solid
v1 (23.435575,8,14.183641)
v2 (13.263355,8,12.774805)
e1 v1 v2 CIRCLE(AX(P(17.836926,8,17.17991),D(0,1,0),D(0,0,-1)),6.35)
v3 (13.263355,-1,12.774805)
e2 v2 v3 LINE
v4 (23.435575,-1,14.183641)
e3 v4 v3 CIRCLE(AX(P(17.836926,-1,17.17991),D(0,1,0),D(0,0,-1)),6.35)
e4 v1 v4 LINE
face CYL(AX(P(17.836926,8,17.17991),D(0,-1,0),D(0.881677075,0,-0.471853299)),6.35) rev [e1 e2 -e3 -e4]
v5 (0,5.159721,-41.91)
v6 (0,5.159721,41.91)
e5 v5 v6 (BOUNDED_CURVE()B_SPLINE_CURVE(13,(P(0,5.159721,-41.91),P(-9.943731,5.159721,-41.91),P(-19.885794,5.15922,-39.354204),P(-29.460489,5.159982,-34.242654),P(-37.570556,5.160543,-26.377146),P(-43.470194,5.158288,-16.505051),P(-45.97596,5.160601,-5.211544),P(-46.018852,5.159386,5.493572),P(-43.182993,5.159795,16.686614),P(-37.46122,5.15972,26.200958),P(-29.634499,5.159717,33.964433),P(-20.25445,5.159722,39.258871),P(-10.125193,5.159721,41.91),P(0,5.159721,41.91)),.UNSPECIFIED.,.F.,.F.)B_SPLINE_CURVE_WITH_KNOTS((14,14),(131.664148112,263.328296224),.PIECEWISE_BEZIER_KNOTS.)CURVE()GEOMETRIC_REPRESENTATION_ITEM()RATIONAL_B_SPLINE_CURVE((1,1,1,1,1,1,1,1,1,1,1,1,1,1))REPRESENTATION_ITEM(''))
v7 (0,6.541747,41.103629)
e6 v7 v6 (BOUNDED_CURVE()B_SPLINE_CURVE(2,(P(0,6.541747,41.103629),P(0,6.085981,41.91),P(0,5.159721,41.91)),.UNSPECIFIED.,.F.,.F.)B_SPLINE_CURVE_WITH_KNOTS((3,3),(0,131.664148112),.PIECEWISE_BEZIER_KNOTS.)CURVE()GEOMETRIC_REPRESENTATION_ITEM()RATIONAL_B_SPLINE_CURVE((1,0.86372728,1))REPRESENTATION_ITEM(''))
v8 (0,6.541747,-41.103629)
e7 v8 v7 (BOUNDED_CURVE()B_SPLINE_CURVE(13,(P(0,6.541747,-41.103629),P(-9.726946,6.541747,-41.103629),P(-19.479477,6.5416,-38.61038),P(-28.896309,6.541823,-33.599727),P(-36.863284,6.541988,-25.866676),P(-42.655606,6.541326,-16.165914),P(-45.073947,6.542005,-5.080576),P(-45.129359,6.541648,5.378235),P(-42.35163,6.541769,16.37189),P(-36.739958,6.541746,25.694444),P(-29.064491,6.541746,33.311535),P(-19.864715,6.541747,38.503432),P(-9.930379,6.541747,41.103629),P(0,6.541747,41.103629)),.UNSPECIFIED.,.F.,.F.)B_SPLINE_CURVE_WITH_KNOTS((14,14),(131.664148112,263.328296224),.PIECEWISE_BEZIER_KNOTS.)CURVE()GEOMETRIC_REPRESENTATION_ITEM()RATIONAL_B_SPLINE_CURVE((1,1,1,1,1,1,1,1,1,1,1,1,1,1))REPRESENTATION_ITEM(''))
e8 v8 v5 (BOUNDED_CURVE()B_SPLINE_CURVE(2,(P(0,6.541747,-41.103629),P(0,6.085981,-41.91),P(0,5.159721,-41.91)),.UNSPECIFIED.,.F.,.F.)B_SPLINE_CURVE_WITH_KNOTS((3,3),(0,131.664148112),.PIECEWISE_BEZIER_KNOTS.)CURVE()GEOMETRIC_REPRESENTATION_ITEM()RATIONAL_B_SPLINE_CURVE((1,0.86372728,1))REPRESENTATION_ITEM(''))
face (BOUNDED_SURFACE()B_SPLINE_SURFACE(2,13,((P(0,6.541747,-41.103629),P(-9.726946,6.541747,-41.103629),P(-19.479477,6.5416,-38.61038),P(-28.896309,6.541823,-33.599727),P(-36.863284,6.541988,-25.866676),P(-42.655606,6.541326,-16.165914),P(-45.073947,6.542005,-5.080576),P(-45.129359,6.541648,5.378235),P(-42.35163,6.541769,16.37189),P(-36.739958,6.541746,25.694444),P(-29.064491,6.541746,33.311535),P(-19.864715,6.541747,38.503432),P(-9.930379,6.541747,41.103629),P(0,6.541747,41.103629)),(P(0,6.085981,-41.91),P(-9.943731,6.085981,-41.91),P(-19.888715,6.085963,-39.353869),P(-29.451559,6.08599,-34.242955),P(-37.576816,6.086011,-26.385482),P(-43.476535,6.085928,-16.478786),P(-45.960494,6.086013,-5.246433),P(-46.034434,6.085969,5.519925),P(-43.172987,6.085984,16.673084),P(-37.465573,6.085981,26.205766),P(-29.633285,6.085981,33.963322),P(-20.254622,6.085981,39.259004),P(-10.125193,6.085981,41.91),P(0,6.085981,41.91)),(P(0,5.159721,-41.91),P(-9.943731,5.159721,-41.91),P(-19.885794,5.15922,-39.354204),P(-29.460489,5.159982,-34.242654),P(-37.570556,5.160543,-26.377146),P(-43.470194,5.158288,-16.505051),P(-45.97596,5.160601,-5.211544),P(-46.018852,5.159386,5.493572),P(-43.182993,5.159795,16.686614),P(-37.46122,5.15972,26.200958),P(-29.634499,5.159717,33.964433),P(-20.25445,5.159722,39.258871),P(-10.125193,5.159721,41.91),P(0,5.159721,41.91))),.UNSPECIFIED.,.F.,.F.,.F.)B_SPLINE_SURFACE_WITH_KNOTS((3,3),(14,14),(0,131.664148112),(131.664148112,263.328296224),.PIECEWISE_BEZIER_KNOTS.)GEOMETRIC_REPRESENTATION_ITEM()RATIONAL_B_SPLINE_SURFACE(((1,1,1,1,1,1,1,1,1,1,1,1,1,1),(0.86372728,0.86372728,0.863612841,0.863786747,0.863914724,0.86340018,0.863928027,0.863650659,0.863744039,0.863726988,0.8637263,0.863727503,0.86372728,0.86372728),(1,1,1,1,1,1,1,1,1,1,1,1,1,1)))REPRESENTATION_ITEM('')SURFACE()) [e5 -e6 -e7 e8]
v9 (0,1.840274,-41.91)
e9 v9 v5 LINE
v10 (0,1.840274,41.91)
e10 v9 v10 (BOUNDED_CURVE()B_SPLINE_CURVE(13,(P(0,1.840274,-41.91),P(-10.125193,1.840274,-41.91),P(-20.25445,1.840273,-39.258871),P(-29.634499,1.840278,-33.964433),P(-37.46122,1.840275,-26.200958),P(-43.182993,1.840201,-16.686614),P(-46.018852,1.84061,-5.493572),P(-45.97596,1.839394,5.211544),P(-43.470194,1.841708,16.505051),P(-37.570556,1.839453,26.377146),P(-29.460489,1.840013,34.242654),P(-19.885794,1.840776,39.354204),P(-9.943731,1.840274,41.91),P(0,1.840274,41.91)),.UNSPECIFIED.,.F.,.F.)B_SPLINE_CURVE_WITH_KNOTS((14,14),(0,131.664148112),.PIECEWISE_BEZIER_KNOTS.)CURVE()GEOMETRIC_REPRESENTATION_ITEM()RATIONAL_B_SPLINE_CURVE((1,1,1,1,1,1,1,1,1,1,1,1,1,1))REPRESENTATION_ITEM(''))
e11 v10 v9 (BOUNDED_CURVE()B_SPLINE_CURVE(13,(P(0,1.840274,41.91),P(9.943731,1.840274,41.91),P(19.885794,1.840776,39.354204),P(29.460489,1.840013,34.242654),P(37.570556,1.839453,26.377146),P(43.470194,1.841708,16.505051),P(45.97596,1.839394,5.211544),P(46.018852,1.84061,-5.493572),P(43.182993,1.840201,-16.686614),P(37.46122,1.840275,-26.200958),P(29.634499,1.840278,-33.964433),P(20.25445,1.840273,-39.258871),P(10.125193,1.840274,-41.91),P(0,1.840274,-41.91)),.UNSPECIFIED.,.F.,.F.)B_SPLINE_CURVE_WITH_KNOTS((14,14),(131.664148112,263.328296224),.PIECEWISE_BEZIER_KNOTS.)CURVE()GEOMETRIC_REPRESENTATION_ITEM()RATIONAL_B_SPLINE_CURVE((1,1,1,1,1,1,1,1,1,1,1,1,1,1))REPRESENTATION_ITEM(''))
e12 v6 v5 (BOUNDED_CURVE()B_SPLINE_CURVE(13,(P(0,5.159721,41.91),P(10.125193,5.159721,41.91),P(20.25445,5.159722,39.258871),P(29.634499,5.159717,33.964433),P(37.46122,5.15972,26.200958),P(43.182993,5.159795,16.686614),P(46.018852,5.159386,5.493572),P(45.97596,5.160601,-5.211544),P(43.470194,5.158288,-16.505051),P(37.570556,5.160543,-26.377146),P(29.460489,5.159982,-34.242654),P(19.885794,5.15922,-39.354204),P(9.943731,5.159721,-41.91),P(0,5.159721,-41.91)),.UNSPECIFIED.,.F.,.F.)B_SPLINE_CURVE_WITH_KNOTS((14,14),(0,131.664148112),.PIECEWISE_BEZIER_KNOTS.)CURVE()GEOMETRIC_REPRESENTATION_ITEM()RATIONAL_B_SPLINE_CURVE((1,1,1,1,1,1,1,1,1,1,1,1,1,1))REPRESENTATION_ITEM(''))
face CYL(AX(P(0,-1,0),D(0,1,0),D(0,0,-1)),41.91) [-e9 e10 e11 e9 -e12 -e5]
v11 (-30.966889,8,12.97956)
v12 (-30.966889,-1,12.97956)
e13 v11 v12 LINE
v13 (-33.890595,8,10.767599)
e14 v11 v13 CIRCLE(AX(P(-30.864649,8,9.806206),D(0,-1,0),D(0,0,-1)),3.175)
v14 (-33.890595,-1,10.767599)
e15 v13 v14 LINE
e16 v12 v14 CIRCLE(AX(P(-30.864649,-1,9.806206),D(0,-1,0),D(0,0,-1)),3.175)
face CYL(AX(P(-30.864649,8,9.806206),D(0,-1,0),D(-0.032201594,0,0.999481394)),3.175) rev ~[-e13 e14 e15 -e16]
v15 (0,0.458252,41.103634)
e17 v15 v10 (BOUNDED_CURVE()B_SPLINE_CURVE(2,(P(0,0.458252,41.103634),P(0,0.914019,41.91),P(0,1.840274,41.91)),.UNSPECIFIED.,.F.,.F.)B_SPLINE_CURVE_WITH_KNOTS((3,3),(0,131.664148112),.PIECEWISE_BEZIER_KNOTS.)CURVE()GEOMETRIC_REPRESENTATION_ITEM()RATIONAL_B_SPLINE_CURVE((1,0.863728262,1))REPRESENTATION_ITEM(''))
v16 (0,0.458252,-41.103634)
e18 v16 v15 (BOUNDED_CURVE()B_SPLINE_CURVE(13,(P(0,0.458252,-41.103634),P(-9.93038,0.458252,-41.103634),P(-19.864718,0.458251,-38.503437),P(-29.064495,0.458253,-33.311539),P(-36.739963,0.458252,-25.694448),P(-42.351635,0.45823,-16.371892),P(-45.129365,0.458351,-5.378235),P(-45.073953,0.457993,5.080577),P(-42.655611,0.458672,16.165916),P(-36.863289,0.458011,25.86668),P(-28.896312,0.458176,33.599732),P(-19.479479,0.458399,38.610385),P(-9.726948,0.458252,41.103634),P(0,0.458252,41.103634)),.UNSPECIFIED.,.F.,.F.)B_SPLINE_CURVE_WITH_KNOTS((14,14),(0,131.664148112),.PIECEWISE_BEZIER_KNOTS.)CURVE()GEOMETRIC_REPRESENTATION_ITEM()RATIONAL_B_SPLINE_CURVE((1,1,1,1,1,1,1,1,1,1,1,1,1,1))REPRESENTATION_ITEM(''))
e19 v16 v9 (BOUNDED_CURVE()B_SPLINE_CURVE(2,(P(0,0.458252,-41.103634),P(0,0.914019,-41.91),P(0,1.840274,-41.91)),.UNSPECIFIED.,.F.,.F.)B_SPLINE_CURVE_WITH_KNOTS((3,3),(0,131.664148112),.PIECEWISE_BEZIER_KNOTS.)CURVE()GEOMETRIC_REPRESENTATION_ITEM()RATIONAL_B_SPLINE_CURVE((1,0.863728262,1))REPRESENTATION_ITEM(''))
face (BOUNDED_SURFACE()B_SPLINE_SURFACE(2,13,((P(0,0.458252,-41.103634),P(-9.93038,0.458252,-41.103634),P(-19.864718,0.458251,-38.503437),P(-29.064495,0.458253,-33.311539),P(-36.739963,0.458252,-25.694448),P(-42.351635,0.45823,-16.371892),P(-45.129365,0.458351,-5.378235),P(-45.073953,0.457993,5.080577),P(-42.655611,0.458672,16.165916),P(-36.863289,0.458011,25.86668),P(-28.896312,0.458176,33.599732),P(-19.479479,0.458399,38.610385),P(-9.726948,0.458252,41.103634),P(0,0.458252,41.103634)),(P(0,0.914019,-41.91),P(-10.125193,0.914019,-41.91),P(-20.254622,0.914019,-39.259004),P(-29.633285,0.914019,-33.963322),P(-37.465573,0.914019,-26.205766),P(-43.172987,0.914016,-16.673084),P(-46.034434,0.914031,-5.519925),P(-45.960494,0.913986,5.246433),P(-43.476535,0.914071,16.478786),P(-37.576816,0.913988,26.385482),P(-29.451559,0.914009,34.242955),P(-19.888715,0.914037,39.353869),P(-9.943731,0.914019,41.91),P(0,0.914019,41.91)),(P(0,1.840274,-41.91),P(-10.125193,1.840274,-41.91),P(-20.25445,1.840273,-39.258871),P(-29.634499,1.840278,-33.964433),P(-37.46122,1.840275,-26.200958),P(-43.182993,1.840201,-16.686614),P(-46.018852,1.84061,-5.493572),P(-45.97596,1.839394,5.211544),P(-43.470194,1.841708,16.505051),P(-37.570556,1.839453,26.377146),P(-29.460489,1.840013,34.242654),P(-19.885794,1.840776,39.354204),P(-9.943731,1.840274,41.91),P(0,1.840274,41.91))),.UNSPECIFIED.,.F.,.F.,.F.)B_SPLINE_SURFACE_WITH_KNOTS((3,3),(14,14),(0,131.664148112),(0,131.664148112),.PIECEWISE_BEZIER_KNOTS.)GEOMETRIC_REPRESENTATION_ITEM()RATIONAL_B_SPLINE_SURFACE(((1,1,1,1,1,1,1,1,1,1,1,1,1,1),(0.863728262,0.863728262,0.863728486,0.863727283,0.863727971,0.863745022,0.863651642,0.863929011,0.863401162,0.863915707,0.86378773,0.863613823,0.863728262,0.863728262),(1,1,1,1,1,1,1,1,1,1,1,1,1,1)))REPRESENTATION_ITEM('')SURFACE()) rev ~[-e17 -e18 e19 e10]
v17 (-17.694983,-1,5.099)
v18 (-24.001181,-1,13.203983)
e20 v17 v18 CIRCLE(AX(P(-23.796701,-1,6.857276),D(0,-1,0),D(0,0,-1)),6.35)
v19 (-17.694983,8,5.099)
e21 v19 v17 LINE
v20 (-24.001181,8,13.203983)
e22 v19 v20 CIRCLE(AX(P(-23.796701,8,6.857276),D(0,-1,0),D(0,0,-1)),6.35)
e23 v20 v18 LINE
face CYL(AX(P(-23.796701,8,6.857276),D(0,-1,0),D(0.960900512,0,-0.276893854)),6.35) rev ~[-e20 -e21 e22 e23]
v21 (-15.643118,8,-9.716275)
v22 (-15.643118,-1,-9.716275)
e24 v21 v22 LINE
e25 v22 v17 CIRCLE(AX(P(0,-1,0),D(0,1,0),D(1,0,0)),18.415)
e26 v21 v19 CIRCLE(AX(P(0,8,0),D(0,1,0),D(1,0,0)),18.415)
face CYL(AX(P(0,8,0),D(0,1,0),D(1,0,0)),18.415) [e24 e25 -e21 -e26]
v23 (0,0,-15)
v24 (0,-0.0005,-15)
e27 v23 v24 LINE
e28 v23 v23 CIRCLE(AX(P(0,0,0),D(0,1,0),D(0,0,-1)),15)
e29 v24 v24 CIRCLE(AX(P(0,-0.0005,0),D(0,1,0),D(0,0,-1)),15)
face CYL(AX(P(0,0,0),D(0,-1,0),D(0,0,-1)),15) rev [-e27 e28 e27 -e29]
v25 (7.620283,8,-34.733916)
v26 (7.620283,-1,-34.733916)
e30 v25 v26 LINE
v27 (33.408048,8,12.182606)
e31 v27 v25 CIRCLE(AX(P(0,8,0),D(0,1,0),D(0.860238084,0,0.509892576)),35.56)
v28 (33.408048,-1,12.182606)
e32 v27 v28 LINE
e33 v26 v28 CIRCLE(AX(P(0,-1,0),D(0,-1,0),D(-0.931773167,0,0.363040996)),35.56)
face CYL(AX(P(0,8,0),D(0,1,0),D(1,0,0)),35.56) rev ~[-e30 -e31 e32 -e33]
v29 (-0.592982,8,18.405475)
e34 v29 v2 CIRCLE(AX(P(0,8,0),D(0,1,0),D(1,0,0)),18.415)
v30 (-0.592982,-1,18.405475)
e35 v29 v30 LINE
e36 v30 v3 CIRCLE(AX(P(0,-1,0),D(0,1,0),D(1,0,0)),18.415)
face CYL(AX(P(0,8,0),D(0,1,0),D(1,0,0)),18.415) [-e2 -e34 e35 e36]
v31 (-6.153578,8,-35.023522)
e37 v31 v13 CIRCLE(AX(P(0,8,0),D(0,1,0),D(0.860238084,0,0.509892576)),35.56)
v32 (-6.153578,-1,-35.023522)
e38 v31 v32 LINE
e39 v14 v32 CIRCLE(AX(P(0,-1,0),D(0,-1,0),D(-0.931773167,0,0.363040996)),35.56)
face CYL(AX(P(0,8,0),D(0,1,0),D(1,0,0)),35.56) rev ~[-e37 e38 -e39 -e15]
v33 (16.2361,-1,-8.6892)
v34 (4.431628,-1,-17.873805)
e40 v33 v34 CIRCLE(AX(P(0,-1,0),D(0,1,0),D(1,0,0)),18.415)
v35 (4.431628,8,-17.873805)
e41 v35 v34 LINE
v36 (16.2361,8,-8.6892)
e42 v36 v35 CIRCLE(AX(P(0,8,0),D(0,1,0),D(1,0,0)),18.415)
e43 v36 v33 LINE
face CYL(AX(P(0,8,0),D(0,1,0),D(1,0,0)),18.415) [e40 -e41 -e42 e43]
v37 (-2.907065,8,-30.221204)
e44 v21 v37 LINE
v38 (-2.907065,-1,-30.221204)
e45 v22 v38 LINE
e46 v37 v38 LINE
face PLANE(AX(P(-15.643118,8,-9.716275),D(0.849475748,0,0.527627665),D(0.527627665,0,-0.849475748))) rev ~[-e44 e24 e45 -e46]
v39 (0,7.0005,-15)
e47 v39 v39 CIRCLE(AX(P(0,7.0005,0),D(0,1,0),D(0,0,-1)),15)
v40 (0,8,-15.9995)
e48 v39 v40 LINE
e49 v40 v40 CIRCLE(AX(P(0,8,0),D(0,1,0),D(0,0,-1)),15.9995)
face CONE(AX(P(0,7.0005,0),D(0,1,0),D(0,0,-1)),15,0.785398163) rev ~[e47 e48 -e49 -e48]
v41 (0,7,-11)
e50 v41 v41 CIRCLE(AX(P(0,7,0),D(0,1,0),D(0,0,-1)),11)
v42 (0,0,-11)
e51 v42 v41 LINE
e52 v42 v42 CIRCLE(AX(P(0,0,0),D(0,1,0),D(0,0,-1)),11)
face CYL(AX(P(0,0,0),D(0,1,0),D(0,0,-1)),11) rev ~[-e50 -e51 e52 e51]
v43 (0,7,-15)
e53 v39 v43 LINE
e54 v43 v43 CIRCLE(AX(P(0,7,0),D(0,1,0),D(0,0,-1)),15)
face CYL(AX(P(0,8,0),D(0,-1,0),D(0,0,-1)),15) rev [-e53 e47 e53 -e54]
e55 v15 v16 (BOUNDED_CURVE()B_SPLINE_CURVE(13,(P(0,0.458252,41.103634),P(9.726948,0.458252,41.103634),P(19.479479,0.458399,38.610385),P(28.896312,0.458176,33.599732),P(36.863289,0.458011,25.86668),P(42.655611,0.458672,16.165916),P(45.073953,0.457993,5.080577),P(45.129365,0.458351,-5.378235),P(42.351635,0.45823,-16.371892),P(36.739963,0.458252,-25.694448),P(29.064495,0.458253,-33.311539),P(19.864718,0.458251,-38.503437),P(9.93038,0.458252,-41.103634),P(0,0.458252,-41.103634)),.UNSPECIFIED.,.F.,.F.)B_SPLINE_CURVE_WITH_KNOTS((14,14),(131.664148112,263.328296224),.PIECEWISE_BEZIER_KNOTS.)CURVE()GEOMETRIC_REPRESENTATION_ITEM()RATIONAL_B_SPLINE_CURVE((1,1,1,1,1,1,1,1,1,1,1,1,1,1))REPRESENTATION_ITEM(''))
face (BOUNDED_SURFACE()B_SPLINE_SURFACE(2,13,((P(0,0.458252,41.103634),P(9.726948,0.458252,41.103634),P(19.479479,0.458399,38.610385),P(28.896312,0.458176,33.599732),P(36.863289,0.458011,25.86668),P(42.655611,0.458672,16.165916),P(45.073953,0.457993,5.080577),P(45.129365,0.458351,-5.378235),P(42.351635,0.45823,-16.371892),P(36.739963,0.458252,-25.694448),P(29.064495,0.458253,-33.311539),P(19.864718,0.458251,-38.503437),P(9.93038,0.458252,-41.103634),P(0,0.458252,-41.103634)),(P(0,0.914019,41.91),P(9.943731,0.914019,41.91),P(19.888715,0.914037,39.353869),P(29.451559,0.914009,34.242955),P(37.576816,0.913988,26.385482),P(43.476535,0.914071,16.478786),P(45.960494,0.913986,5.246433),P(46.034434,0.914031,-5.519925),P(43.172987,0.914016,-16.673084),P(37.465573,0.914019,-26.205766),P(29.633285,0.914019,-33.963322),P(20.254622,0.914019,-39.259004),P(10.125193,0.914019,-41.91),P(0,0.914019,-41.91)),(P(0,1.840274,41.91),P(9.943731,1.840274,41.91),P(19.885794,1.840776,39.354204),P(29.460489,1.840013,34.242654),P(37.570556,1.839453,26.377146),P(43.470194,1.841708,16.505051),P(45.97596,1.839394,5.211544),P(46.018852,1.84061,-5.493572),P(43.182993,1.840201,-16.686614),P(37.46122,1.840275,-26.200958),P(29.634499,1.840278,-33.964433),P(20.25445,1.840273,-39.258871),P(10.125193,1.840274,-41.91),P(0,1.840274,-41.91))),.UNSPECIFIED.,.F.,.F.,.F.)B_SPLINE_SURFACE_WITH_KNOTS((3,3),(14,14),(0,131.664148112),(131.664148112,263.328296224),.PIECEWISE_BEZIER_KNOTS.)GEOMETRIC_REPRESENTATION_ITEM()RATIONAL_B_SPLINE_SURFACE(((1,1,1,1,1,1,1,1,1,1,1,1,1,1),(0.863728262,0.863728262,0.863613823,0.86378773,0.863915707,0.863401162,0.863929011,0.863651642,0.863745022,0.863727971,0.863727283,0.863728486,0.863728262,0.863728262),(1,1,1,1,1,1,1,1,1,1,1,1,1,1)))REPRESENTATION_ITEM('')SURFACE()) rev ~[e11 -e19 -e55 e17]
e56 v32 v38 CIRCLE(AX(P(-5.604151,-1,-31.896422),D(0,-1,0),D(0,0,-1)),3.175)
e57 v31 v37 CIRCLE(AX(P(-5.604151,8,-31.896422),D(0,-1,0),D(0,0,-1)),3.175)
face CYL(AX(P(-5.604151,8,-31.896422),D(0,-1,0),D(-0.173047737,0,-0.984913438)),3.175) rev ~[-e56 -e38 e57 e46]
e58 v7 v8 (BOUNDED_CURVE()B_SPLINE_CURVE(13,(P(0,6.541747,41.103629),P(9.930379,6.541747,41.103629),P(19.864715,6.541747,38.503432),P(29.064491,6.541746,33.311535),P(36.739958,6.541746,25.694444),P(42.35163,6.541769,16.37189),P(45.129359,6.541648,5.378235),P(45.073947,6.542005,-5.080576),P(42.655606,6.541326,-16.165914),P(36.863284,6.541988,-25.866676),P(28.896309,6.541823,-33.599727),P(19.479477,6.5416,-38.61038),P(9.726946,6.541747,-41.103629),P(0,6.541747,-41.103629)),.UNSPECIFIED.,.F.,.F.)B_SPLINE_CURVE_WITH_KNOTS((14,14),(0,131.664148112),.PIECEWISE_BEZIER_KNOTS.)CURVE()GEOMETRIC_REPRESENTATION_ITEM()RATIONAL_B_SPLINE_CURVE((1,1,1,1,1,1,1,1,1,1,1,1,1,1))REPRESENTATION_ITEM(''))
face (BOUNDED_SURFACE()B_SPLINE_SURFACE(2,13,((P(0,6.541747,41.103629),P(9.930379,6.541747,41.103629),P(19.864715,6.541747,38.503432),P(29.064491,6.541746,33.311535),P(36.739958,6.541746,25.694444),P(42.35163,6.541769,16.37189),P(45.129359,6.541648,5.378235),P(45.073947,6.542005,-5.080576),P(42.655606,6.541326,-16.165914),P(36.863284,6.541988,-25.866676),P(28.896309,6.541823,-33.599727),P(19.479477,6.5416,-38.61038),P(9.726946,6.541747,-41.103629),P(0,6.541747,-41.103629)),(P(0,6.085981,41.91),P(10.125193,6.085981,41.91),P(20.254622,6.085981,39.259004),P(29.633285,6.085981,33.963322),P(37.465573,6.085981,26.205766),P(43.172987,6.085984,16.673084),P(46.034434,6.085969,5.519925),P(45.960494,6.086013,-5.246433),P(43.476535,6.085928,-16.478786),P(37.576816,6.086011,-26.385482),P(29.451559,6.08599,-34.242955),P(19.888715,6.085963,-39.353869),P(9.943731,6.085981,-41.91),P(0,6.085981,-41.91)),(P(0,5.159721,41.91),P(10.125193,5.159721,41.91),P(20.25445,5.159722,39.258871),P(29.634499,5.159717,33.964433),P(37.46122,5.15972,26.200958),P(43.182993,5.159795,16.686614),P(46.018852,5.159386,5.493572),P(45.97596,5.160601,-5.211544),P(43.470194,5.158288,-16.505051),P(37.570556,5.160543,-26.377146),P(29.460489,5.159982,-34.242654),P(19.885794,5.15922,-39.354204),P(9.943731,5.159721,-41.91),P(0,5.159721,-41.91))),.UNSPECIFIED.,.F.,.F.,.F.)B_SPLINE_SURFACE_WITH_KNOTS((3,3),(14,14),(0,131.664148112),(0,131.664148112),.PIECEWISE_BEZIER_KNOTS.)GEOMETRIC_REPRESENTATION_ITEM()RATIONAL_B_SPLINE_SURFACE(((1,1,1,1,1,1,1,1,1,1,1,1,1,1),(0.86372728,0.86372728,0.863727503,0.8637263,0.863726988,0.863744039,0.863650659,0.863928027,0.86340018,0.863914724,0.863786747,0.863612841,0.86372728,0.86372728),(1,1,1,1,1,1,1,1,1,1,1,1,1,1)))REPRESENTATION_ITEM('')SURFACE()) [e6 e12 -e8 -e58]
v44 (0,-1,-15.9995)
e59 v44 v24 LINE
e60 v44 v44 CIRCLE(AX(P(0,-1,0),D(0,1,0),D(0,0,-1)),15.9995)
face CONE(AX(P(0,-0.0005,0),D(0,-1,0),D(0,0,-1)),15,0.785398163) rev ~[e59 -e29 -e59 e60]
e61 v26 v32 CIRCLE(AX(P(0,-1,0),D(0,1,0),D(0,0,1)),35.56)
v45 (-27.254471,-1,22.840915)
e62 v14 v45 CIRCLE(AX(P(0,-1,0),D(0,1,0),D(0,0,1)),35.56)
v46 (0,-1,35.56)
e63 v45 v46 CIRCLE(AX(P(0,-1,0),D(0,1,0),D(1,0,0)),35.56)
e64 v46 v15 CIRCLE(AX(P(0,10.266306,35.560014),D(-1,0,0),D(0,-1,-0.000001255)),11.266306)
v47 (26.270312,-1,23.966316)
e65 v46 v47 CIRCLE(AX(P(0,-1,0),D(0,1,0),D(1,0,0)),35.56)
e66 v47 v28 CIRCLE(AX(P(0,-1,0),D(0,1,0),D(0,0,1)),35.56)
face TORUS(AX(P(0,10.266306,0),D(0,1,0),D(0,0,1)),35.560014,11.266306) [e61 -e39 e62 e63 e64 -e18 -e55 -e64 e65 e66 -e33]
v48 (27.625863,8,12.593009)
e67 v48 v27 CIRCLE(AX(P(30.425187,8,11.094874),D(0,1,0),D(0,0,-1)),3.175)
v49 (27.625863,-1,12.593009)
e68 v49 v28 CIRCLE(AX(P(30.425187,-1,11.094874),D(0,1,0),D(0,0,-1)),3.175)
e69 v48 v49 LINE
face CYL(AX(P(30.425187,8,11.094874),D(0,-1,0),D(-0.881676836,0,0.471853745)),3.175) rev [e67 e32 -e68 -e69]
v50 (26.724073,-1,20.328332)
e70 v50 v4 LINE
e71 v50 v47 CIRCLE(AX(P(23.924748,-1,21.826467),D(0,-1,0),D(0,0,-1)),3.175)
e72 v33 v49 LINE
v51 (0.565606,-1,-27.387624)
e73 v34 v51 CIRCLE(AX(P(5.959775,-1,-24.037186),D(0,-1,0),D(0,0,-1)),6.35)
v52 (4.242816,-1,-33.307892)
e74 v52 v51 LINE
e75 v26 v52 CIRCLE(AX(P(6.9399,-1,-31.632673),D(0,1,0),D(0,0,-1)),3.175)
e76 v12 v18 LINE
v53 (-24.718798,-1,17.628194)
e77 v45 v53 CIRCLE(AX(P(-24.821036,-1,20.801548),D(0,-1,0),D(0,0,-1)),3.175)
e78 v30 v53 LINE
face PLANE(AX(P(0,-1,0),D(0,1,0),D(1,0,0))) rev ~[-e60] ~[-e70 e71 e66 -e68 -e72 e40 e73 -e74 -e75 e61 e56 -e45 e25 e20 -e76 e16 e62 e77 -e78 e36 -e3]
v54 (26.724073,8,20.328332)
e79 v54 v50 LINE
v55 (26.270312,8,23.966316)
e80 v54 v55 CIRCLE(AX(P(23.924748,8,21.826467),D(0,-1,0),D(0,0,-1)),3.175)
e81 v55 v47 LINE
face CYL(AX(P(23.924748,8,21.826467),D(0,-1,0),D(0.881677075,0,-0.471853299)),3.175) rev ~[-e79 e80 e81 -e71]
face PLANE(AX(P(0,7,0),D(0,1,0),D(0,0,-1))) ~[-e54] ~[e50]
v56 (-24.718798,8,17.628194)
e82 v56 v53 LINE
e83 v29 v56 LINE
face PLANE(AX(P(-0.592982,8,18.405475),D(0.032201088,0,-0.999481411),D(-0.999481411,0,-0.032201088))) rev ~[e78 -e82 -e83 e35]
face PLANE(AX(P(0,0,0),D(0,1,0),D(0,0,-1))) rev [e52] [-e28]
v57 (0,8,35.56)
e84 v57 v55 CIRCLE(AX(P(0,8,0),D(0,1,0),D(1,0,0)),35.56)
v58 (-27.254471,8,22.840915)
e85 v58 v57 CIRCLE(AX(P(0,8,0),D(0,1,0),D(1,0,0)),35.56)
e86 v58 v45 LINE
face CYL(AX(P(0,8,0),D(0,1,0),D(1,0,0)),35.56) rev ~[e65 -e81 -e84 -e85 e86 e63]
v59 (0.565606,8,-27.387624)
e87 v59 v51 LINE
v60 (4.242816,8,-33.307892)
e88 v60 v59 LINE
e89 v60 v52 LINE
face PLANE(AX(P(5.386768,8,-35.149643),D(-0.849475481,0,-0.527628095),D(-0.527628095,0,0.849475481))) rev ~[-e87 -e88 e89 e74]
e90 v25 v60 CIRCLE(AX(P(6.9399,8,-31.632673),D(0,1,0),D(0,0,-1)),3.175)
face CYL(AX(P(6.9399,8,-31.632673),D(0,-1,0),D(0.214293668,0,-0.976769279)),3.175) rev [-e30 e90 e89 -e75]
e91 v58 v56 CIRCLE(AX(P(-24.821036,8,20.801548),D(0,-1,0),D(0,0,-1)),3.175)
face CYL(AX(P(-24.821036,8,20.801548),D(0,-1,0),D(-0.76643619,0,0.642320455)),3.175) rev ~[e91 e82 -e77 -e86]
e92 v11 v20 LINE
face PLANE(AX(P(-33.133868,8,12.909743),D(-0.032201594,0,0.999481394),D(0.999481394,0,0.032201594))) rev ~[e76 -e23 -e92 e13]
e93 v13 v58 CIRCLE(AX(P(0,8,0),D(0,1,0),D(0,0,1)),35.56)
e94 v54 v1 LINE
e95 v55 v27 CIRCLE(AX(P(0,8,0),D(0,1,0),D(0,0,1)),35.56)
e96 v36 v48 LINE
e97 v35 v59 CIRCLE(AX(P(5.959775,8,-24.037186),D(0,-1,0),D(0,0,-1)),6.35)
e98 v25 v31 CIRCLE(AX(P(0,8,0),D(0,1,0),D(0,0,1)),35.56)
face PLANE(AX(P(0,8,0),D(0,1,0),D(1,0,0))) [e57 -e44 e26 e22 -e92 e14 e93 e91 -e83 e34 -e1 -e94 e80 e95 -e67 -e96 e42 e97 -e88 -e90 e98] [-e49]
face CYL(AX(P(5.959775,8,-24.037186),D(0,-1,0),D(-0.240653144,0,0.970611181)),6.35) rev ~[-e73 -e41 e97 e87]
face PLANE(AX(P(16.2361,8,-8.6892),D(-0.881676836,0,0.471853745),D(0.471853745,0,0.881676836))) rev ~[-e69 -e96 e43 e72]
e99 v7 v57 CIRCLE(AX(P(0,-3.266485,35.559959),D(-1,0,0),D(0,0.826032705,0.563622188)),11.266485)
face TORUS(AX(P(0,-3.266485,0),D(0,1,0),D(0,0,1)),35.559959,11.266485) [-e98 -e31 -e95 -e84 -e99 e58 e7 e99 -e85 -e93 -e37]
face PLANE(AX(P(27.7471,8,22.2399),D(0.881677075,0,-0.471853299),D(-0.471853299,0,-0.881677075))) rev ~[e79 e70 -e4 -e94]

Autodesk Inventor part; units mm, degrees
ref_plane "YZ Plane" through (0, 0, 0) normal (1, 0, 0) x (0, 1, 0)
sketch "Sketch3" plane through (0, 0, 0) normal (1, 0, 0) x (0, 1, 0)
  line L0 (0, 0) -> (0, -11) construction
  line L1 (0, 0) -> (7, 0) construction
  line L2 (7, 0) -> (7, -11) construction
  line L3 (0, -11) -> (0, -41.91)
  line L4 (0, -41.91) -> (-1.9706, -41.91) construction
  line L5 (0, -11) -> (7, -11)
  line L6 (7, -11) -> (7, -41.91)
  line L7 (0, -41.91) -> (0, -39.6842) construction
  line L8 (0, -41.91) -> (7, -41.91)
  dimension "d7" = 7
  dimension "d8" = 11
  dimension "d9" = 41.91
revolve "Revolution1" add sketch "Sketch3" angle 360 about axis through (0, 0, 0) along (0, 1, 0)
ref_plane "Work Plane2" through (0, 0, 0) normal (-1, 0, 0) x (0, 1, 0)
sketch "Sketch4" plane through (0, 0, 0) normal (-1, 0, 0) x (0, 1, 0)
  line L0 (0, 0) -> (7, 0)
  line L1 (7, 41.91) -> (7, -41.91) projected
  line L2 (7, 0) -> (7, 11)
  line L3 (7, 0) -> (8, 0)
  line L4 (8, 0) -> (8, 15)
  line L5 (8, 15) -> (7, 15)
  line L6 (8, 15) -> (8, 41.91)
  line L7 (8, 41.91) -> (7, 41.91)
  line L8 (0, 0) -> (0, 0.75)
  line L9 (0, 11) -> (0, -11) projected
  line L10 (8, 15) -> (0, 15)
  line L11 (0, 41.91) -> (0, -41.91) projected
  line L12 (0, 15) -> (-1, 15)
  line L13 (-1, 15) -> (-1, 41.91)
  line L14 (-1, 41.91) -> (0, 41.91)
  dimension "d16" = 11
  dimension "d17" = 1
  dimension "d18" = 15
  dimension "d20" = 0.75
  dimension "d21" = 1
ref_plane "Work Plane3" through (0, 3.5, 0) normal (0, 1, 0) x (1, 0, 0)
revolve "Revolution2" add sketch "Sketch4" angle 360 about axis through (0, 0, 0) along (0, 1, 0) contours L12 L13 L14 L11 | L1 L7 L6 L5
sketch "Sketch5" plane through (0, 8, 0) normal (0, 1, 0) x (1, 0, 0)
  circle A0 centre (0, 0) radius 18.415
  circle A1 centre (0, 0) radius 15 projected
  circle A2 centre (0, 0) radius 41.91 projected
  circle A3 centre (0, 0) radius 35.56
  dimension "d23" = 6.35
  dimension "d49" = 36.83
extrude "Extrusion2" cut sketch "Sketch5" against normal through all contours A3
sketch "Sketch6" plane through (0, 8, 0) normal (0, 1, 0) x (1, 0, 0)
  circle A0 centre (0, 0) radius 18.415 projected
  circle A1 centre (0, 0) radius 35.56 projected
  line L0 (16.2361, 8.6892) -> (30.5901, -18.1318)
  line L1 (27.7471, -22.2399) -> (17.9783, -3.9865)
  dimension "d26" = 4.445
extrude "Extrusion3" add sketch "Sketch6" against normal up to surface (9 mm away) contours A0 L0 A1 L1 picked at (22.3912, -5.043)
pattern_circular "Circular Pattern1" count 3 over 360 about axis through (0, 3.5, 0) along (0, -1, 0) of "Extrusion3"
fillet "Fillet1" radius 6.35 3 edges at (-5.5367, 3.5, -17.5629) (17.9783, 3.5, 3.9865) (-12.4416, 3.5, 13.5764)
fillet "Fillet1" radius 3.175 3 edges at (27.7471, 3.5, 22.2399) (-33.1338, 3.5, 12.9098) (5.3867, 3.5, -35.1496)
fillet "Fillet1" radius 3.175 3 edges at (0.4075, 3.5, -35.5577) (-30.9976, 3.5, 17.4259) (30.5901, 3.5, 18.1318)
sketch "Sketch7" plane through (0, 0, 0) normal (-1, 0, 0) x (0, 1, 0)
  line L0 (8, -41.91) -> (8, 41.91) projected
  line L1 (-1, -41.91) -> (-1, 41.91) projected
  line L2 (8, -41.91) -> (-1, -41.91) projected
  arc A0 (6.04, -41.91) -> (8, -35.56) centre (-3.2664, -35.56) ccw
  arc A1 (-1, -35.56) -> (0.96, -41.91) centre (10.2664, -35.56) ccw
  line L3 (0.96, -41.91) -> (6.04, -41.91)
  line L4 (-1, -35.56) -> (8, -35.56)
  line L5 (8, -22.8409) -> (-1, -22.8409) projected
  line L6 (8, -23.9663) -> (8, -35.56) projected
  line L7 (-1, -23.9663) -> (8, -23.9663) projected
  line L8 (-1, -22.8409) -> (-1, -23.9663) projected
  line L9 (8, -35.56) -> (8, -35.56) projected
  line L10 (0, 0) -> (11.7377, 0)
  dimension "d36" = 6.35
  dimension "d37" = 5.08
revolve "Revolution3" cut sketch "Sketch7" angle 360 about axis through (0, 0, 0) along (0, 1, 0) contours L2 A0 L0 | A1 L2 L1
fillet "Fillet2" radius 1.5875 4 edges at (41.91, 6.04, 0) (-41.91, 6.04, 0) (-41.91, 0.96, 0) (41.91, 0.96, 0)
chamfer "Chamfer1" distance 1 distance2 1 1 edges at (0, 8, 15) measured on face at (1.207, 7.3333, -14.9514)
chamfer "Chamfer2" distance 1 angle 45 1 edges at (0, -1, 15)
properties part number "Spinner 1"
